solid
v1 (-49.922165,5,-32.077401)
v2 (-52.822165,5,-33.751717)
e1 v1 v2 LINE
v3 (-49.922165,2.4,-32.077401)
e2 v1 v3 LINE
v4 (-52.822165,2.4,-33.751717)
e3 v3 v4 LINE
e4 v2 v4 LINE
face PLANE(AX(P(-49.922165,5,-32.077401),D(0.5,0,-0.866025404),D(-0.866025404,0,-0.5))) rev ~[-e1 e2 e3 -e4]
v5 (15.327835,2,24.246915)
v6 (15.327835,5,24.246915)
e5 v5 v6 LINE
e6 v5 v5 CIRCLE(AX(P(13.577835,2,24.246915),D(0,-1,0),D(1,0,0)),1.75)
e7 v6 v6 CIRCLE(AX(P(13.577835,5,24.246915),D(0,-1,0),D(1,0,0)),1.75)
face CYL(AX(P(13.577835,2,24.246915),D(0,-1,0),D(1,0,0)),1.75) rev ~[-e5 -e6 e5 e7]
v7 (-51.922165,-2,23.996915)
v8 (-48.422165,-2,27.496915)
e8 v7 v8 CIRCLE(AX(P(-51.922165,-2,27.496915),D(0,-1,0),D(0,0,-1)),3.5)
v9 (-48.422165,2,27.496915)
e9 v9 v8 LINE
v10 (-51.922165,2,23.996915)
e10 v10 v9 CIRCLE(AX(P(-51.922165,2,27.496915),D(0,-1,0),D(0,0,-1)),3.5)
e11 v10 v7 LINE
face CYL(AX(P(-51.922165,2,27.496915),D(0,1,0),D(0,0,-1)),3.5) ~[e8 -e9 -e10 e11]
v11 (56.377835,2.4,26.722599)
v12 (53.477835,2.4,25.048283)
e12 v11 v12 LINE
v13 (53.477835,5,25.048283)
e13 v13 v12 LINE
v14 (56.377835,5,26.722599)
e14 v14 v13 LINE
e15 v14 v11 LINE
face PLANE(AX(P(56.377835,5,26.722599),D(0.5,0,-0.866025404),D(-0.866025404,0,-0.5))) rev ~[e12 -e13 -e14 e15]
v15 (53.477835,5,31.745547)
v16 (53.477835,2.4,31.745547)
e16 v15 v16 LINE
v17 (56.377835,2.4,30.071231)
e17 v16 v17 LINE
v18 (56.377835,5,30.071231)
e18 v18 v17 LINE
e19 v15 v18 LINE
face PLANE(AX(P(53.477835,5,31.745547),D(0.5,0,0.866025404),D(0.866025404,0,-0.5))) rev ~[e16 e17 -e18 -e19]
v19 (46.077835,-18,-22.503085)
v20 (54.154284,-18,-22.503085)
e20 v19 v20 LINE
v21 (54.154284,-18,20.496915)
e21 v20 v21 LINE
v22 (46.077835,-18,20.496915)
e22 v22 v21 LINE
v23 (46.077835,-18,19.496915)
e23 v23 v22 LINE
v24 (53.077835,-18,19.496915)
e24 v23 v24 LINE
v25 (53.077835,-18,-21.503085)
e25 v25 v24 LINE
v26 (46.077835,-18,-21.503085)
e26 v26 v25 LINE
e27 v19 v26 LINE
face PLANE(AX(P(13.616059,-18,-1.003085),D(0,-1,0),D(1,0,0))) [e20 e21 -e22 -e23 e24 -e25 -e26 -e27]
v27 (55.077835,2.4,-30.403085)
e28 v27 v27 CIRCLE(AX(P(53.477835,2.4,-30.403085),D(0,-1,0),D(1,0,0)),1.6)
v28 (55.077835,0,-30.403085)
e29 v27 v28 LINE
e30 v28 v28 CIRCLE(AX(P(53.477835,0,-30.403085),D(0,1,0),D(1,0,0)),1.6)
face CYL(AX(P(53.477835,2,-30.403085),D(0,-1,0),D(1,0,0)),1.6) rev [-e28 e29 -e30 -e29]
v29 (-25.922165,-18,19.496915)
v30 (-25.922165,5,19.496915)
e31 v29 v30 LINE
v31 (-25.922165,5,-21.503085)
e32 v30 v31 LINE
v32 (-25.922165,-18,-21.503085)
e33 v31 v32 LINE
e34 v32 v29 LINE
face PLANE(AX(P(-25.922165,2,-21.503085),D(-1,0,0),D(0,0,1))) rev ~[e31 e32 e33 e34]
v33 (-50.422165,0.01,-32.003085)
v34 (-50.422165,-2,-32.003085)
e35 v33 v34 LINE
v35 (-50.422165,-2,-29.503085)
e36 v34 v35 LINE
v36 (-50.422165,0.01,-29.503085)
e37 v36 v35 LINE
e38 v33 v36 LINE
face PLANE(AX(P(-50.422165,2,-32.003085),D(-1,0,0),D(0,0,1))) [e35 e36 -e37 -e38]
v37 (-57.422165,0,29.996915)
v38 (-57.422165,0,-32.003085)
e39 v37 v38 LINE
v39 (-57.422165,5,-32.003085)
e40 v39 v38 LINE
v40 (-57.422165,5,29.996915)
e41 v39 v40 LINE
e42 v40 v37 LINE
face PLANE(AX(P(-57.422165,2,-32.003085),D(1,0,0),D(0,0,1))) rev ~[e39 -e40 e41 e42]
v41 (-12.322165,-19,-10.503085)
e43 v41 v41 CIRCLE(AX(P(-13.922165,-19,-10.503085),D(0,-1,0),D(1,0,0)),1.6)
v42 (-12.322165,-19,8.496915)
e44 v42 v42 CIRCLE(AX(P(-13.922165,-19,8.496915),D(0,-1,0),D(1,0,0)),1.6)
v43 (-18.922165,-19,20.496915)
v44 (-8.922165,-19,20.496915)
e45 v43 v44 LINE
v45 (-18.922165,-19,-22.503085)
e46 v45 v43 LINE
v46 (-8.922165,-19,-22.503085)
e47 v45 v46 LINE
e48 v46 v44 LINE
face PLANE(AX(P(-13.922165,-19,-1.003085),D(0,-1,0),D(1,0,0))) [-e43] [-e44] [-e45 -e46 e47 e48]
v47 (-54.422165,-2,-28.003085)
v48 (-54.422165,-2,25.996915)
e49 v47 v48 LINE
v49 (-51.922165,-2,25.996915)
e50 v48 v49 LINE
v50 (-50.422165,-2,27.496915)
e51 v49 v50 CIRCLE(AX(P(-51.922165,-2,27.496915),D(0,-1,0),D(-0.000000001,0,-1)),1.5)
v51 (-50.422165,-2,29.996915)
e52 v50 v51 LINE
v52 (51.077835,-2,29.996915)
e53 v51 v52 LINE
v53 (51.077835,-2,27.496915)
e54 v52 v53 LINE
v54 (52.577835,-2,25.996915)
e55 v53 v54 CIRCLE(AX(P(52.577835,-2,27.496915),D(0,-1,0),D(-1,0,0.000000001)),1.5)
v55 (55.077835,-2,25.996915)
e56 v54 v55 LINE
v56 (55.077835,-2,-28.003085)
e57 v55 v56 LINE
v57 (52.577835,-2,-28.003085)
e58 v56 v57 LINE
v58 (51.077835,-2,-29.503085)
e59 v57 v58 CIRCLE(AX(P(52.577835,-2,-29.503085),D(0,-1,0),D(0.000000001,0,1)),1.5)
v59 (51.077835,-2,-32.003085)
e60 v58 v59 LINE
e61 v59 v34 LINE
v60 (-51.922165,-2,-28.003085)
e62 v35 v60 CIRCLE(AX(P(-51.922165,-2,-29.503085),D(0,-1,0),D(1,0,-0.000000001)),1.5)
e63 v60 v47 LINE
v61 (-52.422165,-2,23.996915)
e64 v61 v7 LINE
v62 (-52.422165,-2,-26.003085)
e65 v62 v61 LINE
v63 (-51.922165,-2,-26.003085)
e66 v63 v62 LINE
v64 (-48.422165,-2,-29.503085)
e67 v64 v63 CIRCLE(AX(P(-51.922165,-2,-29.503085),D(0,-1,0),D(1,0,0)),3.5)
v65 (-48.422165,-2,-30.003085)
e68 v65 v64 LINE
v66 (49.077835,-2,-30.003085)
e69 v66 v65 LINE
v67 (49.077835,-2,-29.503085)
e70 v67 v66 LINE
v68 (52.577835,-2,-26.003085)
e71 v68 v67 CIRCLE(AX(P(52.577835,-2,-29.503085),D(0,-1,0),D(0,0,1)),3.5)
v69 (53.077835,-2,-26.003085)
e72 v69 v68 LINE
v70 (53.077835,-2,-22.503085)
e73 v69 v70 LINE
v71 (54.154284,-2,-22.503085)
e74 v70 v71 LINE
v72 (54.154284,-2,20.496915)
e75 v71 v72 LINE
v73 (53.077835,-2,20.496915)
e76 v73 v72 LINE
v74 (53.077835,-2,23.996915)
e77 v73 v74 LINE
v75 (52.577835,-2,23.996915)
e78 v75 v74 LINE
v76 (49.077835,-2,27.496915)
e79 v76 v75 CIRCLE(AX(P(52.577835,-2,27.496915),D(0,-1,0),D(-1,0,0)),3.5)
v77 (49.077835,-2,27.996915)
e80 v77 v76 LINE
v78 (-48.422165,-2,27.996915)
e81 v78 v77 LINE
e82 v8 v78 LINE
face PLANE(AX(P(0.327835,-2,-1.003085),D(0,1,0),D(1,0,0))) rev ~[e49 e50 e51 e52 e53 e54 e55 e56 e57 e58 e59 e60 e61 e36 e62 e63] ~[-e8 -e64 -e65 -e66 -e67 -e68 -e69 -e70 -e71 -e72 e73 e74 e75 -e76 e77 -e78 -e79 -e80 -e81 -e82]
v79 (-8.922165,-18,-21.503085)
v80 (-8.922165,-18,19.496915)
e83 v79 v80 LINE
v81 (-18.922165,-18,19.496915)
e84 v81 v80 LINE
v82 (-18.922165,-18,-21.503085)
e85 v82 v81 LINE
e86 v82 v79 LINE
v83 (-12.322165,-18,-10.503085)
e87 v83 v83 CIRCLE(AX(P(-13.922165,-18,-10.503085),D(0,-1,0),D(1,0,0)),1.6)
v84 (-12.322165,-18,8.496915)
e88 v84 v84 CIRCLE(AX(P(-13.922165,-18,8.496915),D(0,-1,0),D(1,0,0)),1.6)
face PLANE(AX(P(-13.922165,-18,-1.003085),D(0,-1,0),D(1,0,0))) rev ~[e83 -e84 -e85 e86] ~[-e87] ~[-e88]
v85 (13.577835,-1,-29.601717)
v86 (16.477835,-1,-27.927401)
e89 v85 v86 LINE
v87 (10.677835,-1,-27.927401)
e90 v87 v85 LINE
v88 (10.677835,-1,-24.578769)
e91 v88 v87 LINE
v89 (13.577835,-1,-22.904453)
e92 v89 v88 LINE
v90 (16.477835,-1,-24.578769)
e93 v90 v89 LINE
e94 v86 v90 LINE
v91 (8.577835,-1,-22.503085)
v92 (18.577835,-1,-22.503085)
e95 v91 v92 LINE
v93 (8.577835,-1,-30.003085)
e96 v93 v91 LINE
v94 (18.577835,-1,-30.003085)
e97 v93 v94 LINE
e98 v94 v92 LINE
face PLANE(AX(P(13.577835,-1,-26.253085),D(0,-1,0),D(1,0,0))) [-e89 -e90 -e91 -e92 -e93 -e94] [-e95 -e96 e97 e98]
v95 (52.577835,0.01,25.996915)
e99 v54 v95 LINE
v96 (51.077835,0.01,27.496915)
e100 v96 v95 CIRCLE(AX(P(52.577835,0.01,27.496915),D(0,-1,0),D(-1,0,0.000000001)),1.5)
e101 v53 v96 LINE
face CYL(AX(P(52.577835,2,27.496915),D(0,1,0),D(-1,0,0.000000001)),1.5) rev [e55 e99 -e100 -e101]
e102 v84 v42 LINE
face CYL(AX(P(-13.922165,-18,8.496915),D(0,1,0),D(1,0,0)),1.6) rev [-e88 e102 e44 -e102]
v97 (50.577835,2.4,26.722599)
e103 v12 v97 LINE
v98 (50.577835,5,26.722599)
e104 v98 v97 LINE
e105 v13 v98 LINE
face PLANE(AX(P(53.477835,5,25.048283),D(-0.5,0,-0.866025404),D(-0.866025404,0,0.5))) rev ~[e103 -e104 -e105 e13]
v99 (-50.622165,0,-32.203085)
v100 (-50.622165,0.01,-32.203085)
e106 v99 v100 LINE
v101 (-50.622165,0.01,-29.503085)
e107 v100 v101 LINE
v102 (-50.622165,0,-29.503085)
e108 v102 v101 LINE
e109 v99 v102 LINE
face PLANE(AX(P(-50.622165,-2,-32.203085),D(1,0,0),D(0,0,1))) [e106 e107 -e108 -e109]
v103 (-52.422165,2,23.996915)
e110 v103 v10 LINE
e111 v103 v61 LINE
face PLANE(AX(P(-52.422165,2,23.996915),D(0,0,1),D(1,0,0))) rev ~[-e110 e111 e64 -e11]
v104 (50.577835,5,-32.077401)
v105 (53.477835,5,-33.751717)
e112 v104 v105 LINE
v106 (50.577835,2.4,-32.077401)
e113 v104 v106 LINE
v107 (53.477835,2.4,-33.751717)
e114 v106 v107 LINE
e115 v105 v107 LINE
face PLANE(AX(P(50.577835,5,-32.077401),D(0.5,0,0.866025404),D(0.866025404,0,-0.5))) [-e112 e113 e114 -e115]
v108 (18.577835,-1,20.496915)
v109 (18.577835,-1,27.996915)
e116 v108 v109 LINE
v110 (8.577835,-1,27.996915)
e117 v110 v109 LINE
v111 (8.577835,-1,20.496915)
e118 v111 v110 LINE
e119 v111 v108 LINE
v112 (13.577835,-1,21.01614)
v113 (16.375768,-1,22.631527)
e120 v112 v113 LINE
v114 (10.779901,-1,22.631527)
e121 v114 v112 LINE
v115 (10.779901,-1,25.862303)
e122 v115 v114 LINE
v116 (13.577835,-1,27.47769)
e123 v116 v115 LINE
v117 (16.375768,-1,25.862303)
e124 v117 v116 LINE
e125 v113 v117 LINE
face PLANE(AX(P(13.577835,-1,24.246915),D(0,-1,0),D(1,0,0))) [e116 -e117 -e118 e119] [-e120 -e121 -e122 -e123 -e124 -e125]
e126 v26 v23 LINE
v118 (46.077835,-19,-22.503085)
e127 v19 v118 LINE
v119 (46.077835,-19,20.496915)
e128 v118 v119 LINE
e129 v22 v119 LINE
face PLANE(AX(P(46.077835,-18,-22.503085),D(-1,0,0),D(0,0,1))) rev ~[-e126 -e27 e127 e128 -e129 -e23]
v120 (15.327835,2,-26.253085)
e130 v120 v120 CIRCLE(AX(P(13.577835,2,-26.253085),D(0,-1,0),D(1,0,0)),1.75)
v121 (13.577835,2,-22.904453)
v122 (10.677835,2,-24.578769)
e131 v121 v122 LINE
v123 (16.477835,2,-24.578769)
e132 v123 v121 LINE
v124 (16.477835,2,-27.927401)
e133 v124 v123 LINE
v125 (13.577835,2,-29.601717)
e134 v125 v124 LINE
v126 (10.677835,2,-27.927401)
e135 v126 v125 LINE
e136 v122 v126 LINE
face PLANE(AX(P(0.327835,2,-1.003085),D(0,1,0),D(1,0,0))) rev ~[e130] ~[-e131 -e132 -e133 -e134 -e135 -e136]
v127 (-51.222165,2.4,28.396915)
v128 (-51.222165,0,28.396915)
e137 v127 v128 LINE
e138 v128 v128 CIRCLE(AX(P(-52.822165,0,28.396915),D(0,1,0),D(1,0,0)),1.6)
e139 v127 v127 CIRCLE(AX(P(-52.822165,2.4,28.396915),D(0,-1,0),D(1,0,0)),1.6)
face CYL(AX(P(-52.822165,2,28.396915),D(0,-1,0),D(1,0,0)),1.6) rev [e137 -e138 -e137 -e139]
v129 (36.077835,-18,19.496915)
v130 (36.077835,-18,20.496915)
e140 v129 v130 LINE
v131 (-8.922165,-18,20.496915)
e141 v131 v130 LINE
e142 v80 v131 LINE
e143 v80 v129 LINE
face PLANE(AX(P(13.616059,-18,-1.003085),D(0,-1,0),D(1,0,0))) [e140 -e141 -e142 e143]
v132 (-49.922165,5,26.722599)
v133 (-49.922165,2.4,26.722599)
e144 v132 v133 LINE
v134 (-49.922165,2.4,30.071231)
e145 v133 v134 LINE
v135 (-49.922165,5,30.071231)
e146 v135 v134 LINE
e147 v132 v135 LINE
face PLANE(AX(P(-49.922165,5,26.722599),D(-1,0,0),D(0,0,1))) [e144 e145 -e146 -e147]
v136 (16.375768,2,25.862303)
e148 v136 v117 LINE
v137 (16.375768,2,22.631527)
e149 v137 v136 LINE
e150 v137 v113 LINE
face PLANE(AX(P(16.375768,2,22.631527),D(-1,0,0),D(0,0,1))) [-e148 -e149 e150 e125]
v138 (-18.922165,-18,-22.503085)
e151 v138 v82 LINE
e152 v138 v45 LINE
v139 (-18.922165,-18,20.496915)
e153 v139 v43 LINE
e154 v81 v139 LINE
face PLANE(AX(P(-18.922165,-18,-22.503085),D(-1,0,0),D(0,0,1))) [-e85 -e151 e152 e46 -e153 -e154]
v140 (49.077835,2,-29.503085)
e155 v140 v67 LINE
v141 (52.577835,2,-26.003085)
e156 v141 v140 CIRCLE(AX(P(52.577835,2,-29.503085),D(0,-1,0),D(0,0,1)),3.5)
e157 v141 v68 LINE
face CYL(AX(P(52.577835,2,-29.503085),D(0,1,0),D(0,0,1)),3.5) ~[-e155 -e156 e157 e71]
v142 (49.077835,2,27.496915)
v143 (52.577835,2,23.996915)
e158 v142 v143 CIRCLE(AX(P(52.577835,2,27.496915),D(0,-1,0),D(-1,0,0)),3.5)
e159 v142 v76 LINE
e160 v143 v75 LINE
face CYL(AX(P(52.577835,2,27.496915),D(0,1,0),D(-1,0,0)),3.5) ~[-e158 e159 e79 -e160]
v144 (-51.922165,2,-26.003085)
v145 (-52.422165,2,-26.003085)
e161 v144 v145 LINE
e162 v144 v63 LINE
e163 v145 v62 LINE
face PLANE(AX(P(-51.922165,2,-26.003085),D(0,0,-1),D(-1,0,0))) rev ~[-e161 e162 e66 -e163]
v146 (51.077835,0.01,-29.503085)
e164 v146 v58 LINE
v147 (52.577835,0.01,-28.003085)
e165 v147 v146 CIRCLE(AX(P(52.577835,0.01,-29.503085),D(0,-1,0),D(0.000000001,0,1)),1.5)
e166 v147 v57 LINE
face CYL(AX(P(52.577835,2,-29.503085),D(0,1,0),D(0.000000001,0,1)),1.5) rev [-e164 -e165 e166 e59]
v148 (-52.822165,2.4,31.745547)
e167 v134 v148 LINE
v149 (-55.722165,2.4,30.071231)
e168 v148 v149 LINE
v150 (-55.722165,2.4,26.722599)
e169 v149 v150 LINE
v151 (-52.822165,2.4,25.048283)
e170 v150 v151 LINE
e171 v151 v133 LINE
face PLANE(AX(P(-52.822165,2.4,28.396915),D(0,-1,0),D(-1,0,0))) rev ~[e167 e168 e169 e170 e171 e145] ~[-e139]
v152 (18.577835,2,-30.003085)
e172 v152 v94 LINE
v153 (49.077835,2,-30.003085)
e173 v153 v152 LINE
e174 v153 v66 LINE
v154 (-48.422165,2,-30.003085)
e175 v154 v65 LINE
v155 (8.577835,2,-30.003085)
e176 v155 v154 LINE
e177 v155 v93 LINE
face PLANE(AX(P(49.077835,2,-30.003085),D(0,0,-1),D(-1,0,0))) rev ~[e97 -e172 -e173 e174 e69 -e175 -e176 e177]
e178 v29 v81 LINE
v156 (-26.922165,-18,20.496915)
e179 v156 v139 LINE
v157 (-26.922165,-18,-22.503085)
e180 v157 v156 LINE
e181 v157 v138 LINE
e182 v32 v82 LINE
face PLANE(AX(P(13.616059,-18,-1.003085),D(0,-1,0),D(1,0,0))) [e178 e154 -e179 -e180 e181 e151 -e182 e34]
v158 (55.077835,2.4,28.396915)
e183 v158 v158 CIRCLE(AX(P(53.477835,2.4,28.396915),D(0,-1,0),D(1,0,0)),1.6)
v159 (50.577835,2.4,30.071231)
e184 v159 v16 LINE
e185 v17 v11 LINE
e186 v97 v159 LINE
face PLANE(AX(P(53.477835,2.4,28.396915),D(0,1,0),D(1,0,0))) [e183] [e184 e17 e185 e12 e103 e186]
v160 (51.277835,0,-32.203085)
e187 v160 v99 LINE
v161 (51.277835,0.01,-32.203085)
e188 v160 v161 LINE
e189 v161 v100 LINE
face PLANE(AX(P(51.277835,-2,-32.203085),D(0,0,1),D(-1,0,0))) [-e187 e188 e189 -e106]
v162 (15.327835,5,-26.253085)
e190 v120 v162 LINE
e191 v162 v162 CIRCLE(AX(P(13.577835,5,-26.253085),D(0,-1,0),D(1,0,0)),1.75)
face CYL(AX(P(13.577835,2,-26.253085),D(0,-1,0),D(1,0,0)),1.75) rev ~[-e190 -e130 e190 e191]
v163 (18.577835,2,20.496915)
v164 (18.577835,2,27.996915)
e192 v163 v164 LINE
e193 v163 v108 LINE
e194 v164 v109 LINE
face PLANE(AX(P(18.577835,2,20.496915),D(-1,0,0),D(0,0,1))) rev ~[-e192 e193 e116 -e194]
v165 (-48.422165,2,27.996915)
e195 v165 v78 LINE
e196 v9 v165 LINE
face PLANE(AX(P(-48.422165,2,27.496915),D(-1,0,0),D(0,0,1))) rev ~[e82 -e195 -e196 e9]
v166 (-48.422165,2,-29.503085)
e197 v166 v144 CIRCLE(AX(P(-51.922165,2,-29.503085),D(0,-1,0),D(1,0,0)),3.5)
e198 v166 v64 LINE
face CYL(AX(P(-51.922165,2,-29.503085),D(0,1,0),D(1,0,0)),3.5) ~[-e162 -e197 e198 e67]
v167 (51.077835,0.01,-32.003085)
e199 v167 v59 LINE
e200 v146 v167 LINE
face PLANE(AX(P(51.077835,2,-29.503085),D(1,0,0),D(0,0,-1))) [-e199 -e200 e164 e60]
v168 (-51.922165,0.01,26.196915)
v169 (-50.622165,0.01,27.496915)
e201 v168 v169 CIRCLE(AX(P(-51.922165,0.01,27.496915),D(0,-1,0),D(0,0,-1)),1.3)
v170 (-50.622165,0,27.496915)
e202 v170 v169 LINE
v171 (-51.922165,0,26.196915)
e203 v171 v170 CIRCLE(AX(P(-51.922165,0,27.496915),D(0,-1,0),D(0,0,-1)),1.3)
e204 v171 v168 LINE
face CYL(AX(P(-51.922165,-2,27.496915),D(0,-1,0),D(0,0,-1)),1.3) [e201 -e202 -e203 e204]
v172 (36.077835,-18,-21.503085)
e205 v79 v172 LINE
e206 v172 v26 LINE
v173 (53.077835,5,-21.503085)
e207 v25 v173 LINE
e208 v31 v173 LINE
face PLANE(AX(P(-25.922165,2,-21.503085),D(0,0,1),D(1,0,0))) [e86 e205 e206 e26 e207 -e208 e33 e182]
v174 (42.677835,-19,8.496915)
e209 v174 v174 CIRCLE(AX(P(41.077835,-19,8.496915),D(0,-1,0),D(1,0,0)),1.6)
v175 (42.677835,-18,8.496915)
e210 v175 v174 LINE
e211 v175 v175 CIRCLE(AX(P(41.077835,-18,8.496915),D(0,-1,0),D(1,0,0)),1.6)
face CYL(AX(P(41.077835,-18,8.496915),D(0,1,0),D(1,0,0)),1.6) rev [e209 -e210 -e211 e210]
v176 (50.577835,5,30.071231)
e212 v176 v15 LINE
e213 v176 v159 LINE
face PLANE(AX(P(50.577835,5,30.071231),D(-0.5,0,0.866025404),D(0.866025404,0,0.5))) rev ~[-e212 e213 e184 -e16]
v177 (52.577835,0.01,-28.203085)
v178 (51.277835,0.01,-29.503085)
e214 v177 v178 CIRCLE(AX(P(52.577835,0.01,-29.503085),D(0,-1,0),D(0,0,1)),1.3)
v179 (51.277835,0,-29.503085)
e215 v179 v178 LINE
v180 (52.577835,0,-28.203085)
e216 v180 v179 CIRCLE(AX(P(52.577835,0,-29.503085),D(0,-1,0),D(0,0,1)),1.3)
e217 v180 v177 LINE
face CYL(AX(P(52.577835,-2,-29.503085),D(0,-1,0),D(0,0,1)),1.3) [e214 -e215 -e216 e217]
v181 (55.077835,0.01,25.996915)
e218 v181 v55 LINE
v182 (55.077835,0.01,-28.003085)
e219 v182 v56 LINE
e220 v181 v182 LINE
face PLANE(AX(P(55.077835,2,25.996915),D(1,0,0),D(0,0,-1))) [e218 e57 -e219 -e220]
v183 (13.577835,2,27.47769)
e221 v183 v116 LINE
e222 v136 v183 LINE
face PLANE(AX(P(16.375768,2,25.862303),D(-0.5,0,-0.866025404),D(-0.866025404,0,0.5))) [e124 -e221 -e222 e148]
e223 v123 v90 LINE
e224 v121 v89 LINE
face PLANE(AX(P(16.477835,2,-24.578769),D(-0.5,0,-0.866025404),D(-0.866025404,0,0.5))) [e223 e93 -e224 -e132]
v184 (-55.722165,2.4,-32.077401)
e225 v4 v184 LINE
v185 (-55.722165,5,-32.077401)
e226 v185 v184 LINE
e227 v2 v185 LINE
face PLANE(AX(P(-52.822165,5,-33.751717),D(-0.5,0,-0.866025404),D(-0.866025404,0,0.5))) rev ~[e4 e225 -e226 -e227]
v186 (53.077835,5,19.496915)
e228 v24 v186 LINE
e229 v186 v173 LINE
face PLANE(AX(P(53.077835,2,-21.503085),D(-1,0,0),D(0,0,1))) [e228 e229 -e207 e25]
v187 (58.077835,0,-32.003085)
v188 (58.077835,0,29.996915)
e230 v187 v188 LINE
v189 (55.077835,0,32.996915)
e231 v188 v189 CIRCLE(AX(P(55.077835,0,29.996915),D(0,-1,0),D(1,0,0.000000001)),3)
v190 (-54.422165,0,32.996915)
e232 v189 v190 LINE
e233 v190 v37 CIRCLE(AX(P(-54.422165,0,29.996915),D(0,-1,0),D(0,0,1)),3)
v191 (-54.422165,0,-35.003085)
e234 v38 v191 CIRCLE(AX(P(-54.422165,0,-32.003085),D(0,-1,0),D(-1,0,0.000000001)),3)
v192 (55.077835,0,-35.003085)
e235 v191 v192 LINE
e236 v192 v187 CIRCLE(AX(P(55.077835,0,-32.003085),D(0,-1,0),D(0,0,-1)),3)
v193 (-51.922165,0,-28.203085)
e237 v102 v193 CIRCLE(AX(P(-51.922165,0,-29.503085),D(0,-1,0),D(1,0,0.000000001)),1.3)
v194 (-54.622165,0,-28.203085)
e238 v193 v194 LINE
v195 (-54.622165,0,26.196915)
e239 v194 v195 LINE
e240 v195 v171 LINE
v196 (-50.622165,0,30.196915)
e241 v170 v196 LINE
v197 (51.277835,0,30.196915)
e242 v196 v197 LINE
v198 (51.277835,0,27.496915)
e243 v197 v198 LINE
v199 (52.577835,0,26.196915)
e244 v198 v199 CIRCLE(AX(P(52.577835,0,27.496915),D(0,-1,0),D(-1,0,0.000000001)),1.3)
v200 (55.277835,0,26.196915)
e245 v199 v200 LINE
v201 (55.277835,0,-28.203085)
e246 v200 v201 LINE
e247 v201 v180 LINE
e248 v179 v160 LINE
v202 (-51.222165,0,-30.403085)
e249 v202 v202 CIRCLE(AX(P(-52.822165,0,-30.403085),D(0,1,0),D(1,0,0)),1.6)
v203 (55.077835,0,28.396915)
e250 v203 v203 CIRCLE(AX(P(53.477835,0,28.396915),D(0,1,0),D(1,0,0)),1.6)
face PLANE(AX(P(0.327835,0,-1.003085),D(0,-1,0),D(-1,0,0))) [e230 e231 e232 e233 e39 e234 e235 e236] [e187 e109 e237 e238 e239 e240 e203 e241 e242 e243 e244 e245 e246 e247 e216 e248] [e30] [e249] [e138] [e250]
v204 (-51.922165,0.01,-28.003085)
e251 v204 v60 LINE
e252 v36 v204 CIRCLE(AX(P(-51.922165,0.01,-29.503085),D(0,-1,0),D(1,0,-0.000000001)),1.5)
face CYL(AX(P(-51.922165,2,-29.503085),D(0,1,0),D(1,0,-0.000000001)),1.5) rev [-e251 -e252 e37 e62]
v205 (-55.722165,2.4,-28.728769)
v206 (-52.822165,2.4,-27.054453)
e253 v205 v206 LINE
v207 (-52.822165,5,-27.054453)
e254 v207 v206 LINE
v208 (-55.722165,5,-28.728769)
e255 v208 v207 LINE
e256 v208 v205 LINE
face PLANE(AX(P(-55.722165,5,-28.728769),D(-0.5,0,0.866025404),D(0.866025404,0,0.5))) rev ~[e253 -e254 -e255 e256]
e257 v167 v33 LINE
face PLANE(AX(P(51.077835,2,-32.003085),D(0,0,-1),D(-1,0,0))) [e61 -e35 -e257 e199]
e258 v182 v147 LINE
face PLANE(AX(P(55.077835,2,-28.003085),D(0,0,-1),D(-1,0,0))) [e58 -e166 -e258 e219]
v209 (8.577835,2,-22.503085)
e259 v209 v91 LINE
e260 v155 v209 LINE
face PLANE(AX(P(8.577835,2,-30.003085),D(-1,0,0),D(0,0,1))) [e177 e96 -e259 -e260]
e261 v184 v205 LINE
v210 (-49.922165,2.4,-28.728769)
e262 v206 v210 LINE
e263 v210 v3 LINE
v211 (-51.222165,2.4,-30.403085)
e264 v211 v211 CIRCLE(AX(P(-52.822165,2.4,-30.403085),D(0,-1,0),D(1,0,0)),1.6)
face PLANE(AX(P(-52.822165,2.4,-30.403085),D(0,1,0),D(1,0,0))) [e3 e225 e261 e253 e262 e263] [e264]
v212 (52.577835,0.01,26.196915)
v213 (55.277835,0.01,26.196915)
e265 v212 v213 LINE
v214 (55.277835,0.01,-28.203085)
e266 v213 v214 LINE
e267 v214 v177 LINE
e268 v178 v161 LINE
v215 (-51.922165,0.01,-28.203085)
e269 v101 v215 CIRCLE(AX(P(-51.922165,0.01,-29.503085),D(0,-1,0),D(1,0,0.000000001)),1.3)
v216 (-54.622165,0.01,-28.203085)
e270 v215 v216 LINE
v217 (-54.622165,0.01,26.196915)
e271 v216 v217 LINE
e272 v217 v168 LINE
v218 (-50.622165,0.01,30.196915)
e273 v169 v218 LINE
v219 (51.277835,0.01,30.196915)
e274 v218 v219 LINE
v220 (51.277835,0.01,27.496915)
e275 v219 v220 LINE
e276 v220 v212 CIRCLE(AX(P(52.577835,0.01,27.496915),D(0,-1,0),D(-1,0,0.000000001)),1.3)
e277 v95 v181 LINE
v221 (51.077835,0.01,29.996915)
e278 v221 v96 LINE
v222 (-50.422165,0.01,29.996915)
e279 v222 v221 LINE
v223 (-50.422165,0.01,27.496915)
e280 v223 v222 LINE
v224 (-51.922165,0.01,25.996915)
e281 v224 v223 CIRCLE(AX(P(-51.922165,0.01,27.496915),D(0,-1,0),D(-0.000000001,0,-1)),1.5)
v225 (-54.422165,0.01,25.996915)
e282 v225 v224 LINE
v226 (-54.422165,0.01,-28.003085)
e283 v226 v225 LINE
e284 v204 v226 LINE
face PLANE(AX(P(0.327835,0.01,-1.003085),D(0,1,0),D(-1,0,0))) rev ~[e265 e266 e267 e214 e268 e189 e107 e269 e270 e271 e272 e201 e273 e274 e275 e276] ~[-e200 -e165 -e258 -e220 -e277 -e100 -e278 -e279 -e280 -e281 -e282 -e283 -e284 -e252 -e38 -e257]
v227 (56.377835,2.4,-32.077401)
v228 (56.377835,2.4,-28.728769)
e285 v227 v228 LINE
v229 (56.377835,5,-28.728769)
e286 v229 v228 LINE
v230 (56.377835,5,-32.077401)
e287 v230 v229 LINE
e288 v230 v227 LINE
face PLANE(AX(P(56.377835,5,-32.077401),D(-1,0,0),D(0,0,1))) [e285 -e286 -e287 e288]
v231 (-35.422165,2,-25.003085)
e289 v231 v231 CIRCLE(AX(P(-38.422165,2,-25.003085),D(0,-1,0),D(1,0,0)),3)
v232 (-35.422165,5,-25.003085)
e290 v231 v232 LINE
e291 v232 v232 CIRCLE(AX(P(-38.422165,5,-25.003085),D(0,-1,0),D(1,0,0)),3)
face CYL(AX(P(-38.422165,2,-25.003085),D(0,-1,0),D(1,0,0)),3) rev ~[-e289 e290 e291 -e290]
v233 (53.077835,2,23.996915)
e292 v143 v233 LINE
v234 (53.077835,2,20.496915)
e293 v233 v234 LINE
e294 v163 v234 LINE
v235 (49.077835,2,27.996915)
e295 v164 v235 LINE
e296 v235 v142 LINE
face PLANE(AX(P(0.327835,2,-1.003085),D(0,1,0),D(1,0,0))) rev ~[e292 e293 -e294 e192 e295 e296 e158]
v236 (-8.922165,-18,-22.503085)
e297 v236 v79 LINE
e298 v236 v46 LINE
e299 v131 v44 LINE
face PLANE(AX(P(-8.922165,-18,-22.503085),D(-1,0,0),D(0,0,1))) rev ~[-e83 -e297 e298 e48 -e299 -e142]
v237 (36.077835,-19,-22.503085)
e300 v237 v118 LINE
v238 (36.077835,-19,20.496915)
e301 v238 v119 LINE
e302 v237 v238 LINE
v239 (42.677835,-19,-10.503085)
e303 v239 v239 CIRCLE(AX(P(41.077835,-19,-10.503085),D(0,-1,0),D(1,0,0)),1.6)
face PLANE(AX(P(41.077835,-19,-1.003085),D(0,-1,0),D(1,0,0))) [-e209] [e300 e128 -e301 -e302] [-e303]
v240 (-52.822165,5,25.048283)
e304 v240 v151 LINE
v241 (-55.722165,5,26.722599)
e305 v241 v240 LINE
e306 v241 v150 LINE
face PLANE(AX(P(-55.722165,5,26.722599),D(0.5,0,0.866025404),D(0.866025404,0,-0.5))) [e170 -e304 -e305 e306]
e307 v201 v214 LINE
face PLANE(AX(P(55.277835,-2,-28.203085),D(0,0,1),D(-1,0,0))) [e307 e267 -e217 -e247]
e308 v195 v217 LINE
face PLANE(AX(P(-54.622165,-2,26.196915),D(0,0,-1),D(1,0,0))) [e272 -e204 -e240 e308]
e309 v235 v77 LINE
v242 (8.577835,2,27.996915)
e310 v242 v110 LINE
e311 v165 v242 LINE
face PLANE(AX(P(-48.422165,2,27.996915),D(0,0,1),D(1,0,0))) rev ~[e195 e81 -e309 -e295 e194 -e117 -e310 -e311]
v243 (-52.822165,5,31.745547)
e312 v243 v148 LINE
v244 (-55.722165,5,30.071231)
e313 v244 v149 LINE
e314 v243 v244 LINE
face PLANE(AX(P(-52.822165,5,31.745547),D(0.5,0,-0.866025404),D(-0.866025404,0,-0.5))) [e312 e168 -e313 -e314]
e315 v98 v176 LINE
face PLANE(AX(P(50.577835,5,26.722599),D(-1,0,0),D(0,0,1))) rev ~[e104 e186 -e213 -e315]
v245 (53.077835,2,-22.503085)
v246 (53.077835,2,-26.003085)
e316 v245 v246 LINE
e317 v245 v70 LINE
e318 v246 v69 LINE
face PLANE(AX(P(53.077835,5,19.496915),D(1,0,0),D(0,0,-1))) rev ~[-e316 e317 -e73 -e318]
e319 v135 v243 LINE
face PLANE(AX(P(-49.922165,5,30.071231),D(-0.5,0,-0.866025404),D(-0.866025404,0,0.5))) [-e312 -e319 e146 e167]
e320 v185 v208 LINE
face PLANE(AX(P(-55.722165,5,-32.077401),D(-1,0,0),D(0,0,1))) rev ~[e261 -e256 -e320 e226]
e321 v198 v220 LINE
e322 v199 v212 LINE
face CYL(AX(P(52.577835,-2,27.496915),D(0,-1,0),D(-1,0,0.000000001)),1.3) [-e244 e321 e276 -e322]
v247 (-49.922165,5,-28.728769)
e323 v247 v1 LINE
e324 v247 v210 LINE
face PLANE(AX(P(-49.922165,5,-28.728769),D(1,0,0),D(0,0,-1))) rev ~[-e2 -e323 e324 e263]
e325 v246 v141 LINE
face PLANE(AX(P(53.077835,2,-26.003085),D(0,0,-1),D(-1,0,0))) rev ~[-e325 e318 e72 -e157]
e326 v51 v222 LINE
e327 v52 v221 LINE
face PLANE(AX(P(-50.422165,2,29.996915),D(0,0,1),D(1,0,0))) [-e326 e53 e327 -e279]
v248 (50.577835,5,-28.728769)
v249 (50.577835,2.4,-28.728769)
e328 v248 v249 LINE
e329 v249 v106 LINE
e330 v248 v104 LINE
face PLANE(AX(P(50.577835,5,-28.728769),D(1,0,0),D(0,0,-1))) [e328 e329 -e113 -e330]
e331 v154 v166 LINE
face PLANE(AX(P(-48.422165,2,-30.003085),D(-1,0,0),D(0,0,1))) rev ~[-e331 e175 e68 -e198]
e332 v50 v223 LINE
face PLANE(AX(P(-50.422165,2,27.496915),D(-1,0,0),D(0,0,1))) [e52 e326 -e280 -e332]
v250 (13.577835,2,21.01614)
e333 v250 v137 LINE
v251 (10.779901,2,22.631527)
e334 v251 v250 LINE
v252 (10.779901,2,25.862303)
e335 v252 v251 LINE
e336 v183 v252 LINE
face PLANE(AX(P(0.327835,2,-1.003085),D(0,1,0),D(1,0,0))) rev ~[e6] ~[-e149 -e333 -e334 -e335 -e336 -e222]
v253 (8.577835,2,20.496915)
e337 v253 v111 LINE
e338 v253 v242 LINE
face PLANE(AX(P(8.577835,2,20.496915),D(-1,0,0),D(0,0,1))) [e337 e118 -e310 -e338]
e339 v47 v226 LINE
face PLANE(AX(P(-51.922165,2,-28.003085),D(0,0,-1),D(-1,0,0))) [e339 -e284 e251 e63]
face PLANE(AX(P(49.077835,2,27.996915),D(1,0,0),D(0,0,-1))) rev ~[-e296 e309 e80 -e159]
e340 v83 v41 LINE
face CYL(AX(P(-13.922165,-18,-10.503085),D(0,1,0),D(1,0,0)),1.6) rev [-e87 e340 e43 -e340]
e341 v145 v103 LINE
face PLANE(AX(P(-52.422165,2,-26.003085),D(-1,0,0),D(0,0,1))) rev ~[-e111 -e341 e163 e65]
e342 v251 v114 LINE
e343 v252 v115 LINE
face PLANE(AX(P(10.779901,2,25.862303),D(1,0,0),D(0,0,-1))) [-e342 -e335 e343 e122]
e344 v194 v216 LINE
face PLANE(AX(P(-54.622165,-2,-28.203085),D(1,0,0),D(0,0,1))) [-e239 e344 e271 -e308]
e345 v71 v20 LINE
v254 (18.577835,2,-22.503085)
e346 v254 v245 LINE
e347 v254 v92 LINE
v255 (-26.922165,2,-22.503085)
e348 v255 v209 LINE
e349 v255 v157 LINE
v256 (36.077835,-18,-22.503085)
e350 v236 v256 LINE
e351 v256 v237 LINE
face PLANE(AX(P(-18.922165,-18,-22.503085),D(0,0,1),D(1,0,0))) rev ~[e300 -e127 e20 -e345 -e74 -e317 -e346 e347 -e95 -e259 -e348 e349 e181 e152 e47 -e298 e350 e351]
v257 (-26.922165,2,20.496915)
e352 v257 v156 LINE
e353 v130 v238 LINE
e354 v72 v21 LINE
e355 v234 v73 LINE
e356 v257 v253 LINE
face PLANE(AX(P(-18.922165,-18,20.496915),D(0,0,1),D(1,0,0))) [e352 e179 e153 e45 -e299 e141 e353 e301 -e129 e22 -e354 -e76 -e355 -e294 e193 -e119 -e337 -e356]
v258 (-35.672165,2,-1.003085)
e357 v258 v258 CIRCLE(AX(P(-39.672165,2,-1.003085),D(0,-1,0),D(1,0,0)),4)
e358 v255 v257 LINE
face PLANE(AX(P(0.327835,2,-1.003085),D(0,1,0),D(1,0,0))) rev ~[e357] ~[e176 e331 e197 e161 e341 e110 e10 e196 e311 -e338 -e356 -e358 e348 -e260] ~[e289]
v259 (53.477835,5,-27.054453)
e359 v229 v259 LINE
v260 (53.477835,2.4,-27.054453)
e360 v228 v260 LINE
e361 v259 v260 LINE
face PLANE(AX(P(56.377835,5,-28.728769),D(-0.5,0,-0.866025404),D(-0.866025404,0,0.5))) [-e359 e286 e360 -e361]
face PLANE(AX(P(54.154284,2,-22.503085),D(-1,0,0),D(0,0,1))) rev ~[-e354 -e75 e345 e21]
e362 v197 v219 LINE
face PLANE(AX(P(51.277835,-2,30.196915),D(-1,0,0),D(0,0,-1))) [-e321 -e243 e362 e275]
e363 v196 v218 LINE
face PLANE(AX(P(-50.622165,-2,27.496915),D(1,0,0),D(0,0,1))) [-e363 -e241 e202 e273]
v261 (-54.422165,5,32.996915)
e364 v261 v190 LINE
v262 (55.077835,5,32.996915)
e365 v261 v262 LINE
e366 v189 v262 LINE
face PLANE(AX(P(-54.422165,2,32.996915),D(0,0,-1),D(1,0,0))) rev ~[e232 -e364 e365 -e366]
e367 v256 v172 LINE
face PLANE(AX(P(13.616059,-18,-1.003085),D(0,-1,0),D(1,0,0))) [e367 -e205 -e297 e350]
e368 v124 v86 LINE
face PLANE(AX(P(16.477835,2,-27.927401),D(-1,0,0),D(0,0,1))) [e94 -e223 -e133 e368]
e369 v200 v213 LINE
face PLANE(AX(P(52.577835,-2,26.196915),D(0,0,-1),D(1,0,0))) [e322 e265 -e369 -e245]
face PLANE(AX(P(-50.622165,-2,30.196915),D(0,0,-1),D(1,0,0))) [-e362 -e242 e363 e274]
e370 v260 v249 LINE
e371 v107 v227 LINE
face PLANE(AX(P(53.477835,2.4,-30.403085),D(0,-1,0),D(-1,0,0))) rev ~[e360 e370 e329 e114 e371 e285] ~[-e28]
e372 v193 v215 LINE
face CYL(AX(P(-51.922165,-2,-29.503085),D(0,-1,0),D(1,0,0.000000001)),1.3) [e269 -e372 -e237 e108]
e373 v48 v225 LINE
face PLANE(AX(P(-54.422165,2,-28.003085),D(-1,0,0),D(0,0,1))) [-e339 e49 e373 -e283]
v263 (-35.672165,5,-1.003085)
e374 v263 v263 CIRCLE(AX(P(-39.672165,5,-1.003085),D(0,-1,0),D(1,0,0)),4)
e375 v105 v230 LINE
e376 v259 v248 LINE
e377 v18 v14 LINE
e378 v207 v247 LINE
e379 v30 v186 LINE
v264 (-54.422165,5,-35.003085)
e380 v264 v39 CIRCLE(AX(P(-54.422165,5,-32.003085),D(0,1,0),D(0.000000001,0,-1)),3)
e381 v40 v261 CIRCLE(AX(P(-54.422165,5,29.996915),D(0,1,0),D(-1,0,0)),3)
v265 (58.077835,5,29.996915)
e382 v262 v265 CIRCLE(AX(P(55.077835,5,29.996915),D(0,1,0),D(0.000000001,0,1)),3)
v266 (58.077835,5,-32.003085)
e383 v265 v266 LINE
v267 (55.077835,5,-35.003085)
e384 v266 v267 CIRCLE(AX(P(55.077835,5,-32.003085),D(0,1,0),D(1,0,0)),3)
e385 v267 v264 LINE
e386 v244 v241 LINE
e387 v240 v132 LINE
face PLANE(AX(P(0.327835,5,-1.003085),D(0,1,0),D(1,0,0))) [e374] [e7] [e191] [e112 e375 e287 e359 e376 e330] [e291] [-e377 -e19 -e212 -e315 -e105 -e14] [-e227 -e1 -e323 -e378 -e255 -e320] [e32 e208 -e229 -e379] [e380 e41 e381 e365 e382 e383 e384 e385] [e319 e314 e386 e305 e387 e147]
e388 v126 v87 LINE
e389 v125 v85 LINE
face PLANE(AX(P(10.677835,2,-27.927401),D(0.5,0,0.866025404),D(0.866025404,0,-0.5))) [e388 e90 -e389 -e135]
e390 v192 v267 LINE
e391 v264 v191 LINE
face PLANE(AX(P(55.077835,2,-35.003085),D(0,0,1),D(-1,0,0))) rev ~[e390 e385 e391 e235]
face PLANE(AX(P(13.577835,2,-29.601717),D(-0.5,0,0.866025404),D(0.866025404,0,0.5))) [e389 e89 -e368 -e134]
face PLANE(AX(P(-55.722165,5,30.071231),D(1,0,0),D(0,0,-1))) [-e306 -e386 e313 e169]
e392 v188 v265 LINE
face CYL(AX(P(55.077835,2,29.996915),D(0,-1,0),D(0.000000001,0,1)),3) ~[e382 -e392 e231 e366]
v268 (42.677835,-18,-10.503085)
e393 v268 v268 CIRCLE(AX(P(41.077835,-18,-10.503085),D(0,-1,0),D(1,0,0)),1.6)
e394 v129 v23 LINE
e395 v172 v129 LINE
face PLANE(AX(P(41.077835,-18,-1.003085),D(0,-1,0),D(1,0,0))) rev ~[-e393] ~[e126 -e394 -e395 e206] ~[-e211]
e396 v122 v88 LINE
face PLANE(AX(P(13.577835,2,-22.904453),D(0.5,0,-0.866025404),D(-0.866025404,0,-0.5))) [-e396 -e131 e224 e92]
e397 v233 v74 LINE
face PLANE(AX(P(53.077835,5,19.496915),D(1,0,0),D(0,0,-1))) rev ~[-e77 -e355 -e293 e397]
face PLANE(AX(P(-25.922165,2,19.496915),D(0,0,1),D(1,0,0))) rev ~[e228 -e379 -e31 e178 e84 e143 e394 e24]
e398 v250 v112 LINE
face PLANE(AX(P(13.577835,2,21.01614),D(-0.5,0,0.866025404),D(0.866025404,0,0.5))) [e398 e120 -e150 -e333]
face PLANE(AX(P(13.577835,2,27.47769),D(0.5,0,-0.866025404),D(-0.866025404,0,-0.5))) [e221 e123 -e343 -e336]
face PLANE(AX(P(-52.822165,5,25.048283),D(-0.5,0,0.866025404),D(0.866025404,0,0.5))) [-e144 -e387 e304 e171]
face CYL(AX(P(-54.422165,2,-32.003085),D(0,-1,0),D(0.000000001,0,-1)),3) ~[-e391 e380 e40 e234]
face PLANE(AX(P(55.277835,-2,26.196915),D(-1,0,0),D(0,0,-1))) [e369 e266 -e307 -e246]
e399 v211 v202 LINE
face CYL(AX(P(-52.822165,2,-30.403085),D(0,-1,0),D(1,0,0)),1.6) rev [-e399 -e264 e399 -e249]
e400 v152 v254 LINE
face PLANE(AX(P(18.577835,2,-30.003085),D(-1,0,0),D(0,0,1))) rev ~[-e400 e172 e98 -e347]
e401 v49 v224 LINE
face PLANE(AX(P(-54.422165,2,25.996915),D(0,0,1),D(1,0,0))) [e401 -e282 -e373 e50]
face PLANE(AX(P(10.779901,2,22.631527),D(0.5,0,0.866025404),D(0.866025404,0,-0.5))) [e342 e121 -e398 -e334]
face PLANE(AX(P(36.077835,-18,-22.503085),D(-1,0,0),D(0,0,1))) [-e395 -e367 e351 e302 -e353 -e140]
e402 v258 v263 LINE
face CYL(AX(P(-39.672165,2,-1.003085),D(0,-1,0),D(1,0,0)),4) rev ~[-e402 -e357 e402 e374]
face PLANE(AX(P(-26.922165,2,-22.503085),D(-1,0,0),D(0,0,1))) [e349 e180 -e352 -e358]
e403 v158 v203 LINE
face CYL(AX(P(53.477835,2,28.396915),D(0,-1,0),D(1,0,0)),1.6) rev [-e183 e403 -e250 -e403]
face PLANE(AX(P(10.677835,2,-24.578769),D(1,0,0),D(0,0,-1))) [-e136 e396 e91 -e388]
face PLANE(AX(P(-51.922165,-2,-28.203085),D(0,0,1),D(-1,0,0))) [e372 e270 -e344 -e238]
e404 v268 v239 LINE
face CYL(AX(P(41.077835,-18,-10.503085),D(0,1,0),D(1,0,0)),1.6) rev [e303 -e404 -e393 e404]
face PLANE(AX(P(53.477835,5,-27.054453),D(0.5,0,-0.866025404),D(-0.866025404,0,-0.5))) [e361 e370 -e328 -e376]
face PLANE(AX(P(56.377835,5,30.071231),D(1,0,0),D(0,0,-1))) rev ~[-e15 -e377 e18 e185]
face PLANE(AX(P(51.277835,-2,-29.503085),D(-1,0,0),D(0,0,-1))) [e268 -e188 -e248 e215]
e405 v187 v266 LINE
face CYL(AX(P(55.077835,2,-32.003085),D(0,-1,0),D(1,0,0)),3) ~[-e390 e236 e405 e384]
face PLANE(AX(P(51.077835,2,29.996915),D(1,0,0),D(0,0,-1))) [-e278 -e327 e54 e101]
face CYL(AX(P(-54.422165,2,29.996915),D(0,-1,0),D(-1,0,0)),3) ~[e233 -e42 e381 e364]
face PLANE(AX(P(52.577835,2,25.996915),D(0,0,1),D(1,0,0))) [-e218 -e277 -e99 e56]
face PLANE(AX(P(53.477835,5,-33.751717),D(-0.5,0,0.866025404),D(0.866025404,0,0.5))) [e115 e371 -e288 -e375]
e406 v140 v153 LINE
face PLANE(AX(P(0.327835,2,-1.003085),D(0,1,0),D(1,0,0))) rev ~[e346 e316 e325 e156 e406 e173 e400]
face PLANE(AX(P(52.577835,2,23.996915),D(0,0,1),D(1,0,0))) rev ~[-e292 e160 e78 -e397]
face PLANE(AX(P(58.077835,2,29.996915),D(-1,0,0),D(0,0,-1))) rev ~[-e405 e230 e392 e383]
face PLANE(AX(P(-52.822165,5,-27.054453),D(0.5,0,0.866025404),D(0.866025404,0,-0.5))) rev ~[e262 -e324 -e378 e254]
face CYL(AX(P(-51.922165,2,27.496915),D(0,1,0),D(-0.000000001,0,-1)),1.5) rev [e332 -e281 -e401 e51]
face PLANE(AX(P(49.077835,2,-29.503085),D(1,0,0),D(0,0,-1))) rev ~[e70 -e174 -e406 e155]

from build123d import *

# Parameters (mm, degrees)
SKETCH_1_R            = 1.6
EXTRUDE_1_DEPTH       = 2
EXTRUDE_1_2_DEPTH     = 4
CUT_EXTRUDE_5_DEPTH   = 2.01
SKETCH_4_R            = 1.6
EXTRUDE_2_DEPTH       = 3
CUT_EXTRUDE_1_DEPTH   = 2.6
SKETCH_6_W            = 79
SKETCH_6_H            = 41
CUT_EXTRUDE_2_DEPTH   = 8
SKETCH_7_W            = 81.076448847
SKETCH_7_H            = 43
SKETCH_7_W_2          = 79
SKETCH_7_H_2          = 41
EXTRUDE_3_DEPTH       = 20
SKETCH_9_R            = 3
CUT_EXTRUDE_3_DEPTH   = 4
SKETCH_10_R           = 4
CUT_EXTRUDE_4_DEPTH   = 4
SKETCH_11_W           = 10
SKETCH_11_H           = 43
SKETCH_11_R           = 1.6
EXTRUDE_4_DEPTH       = 1
SKETCH_12_W           = 10
SKETCH_12_H           = 7.5
EXTRUDE_5_DEPTH       = 3
SKETCH_13_R           = 1.75
CUT_EXTRUDE_5_2_DEPTH = 4


with BuildPart() as part:
    # Эскиз1 → Extrude 1 (new body)
    with BuildSketch(Plane(origin=(0, 0, 0), x_dir=(1, 0, 0), z_dir=(0, 1, 0))):
        with BuildLine():
            Line((55.077834671, -32.996915035), (-54.422165329, -32.996915035))
            ThreePointArc((-54.422165329, -32.996915035), (-56.543485673, -32.118235378), (-57.422165329, -29.996915035))
            Line((-57.422165329, -29.996915035), (-57.422165329, 32.003084965))
            ThreePointArc((-57.422165329, 32.003084965), (-56.543485673, 34.124405309), (-54.422165329, 35.003084965))
            Line((-54.422165329, 35.003084965), (55.077834671, 35.003084965))
            ThreePointArc((55.077834671, 35.003084965), (57.199155014, 34.124405309), (58.077834671, 32.003084965))
            Line((58.077834671, 32.003084965), (58.077834671, -29.996915035))
            ThreePointArc((58.077834671, -29.996915035), (57.199155014, -32.118235378), (55.077834671, -32.996915035))
        make_face()
        with Locations((53.477834671, -28.396915035)):
            Circle(SKETCH_1_R, mode=Mode.SUBTRACT)
        with Locations((-52.822165329, -28.396915035)):
            Circle(SKETCH_1_R, mode=Mode.SUBTRACT)
        with Locations((-52.822165329, 30.403084965)):
            Circle(SKETCH_1_R, mode=Mode.SUBTRACT)
        with Locations((53.477834671, 30.403084965)):
            Circle(SKETCH_1_R, mode=Mode.SUBTRACT)
        with BuildLine():
            Line((55.077834671, 28.003084965), (55.077834671, -25.996915035))
            Line((55.077834671, -25.996915035), (52.577834671, -25.996915035))
            ThreePointArc((52.577834671, -25.996915035), (51.517174499, -26.436254863), (51.077834671, -27.496915035))
            Line((51.077834671, -27.496915035), (51.077834671, -29.996915035))
            Line((51.077834671, -29.996915035), (-50.422165329, -29.996915035))
            Line((-50.422165329, -29.996915035), (-50.422165329, -27.496915035))
            ThreePointArc((-50.422165329, -27.496915035), (-50.861505157, -26.436254863), (-51.922165329, -25.996915035))
            Line((-51.922165329, -25.996915035), (-54.422165329, -25.996915035))
            Line((-54.422165329, -25.996915035), (-54.422165329, 28.003084965))
            Line((-54.422165329, 28.003084965), (-51.922165329, 28.003084965))
            ThreePointArc((-51.922165329, 28.003084965), (-50.861505157, 28.442424793), (-50.422165329, 29.503084965))
            Line((-50.422165329, 29.503084965), (-50.422165329, 32.003084965))
            Line((-50.422165329, 32.003084965), (51.077834671, 32.003084965))
            Line((51.077834671, 32.003084965), (51.077834671, 29.503084965))
            ThreePointArc((51.077834671, 29.503084965), (51.517174499, 28.442424793), (52.577834671, 28.003084965))
            Line((52.577834671, 28.003084965), (55.077834671, 28.003084965))
        make_face(mode=Mode.SUBTRACT)
    extrude(amount=EXTRUDE_1_DEPTH)

    # Эскиз2 → Extrude 1 2 (add)
    with BuildSketch(Plane(origin=(0, 2, 0), x_dir=(1, 0, 0), z_dir=(0, 1, 0))):
        with BuildLine():
            Line((-51.922165329, 28.003084965), (-54.422165329, 28.003084965))
            Line((-54.422165329, 28.003084965), (-54.422165329, -25.996915035))
            Line((-54.422165329, -25.996915035), (-51.922165329, -25.996915035))
            ThreePointArc((-51.922165329, -25.996915035), (-50.861505157, -26.436254863), (-50.422165329, -27.496915035))
            Line((-50.422165329, -27.496915035), (-50.422165329, -29.996915035))
            Line((-50.422165329, -29.996915035), (51.077834671, -29.996915035))
            Line((51.077834671, -29.996915035), (51.077834671, -27.496915035))
            ThreePointArc((51.077834671, -27.496915035), (51.517174499, -26.436254863), (52.577834671, -25.996915035))
            Line((52.577834671, -25.996915035), (55.077834671, -25.996915035))
            Line((55.077834671, -25.996915035), (55.077834671, 28.003084965))
            Line((55.077834671, 28.003084965), (52.577834671, 28.003084965))
            ThreePointArc((52.577834671, 28.003084965), (51.517174499, 28.442424793), (51.077834671, 29.503084965))
            Line((51.077834671, 29.503084965), (51.077834671, 32.003084965))
            Line((51.077834671, 32.003084965), (-50.422165329, 32.003084965))
            Line((-50.422165329, 32.003084965), (-50.422165329, 29.503084965))
            ThreePointArc((-50.422165329, 29.503084965), (-50.861505157, 28.442424793), (-51.922165329, 28.003084965))
        make_face()
        with BuildLine():
            Line((-51.922165329, 26.003084965), (-52.422165329, 26.003084965))
            Line((-52.422165329, 26.003084965), (-52.422165329, -23.996915035))
            Line((-52.422165329, -23.996915035), (-51.922165329, -23.996915035))
            ThreePointArc((-51.922165329, -23.996915035), (-49.447291595, -25.022041301), (-48.422165329, -27.496915035))
            Line((-48.422165329, -27.496915035), (-48.422165329, -27.996915035))
            Line((-48.422165329, -27.996915035), (49.077834671, -27.996915035))
            Line((49.077834671, -27.996915035), (49.077834671, -27.496915035))
            ThreePointArc((49.077834671, -27.496915035), (50.102960937, -25.022041301), (52.577834671, -23.996915035))
            Line((52.577834671, -23.996915035), (53.077834671, -23.996915035))
            Line((53.077834671, -23.996915035), (53.077834671, 26.003084965))
            Line((53.077834671, 26.003084965), (52.577834671, 26.003084965))
            ThreePointArc((52.577834671, 26.003084965), (50.102960937, 27.028211231), (49.077834671, 29.503084965))
            Line((49.077834671, 29.503084965), (49.077834671, 30.003084965))
            Line((49.077834671, 30.003084965), (-48.422165329, 30.003084965))
            Line((-48.422165329, 30.003084965), (-48.422165329, 29.503084965))
            ThreePointArc((-48.422165329, 29.503084965), (-49.447291595, 27.028211231), (-51.922165329, 26.003084965))
        make_face(mode=Mode.SUBTRACT)
    extrude(amount=-EXTRUDE_1_2_DEPTH)

    # Эскиз3 → Cut-Extrude 5 (cut)
    with BuildSketch(Plane.XZ.offset(2)):
        with BuildLine():
            Line((-50.622165329, 27.496915035), (-50.622165329, 30.196915035))
            Line((-50.622165329, 30.196915035), (51.277834671, 30.196915035))
            Line((51.277834671, 30.196915035), (51.277834671, 27.496915035))
            ThreePointArc((51.277834671, 27.496915035), (51.658595855, 26.577676219), (52.577834671, 26.196915035))
            Line((52.577834671, 26.196915035), (55.277834671, 26.196915035))
            Line((55.277834671, 26.196915035), (55.277834671, -28.203084965))
            Line((55.277834671, -28.203084965), (52.577834671, -28.203084965))
            ThreePointArc((52.577834671, -28.203084965), (51.658595855, -28.58384615), (51.277834671, -29.503084965))
            Line((51.277834671, -29.503084965), (51.277834671, -32.203084965))
            Line((51.277834671, -32.203084965), (-50.622165329, -32.203084965))
            Line((-50.622165329, -32.203084965), (-50.622165329, -29.503084965))
            ThreePointArc((-50.622165329, -29.503084965), (-51.002926514, -28.58384615), (-51.922165329, -28.203084965))
            Line((-51.922165329, -28.203084965), (-54.622165329, -28.203084965))
            Line((-54.622165329, -28.203084965), (-54.622165329, 26.196915035))
            Line((-54.622165329, 26.196915035), (-51.922165329, 26.196915035))
            ThreePointArc((-51.922165329, 26.196915035), (-51.002926514, 26.577676219), (-50.622165329, 27.496915035))
        make_face()
        with BuildLine():
            Line((-50.422165329, 27.496915035), (-50.422165329, 29.996915035))
            Line((-50.422165329, 29.996915035), (51.077834671, 29.996915035))
            Line((51.077834671, 29.996915035), (51.077834671, 27.496915035))
            ThreePointArc((51.077834671, 27.496915035), (51.517174499, 26.436254863), (52.577834671, 25.996915035))
            Line((52.577834671, 25.996915035), (55.077834671, 25.996915035))
            Line((55.077834671, 25.996915035), (55.077834671, -28.003084965))
            Line((55.077834671, -28.003084965), (52.577834671, -28.003084965))
            ThreePointArc((52.577834671, -28.003084965), (51.517174499, -28.442424793), (51.077834671, -29.503084965))
            Line((51.077834671, -29.503084965), (51.077834671, -32.003084965))
            Line((51.077834671, -32.003084965), (-50.422165329, -32.003084965))
            Line((-50.422165329, -32.003084965), (-50.422165329, -29.503084965))
            ThreePointArc((-50.422165329, -29.503084965), (-50.861505157, -28.442424793), (-51.922165329, -28.003084965))
            Line((-51.922165329, -28.003084965), (-54.422165329, -28.003084965))
            Line((-54.422165329, -28.003084965), (-54.422165329, 25.996915035))
            Line((-54.422165329, 25.996915035), (-51.922165329, 25.996915035))
            ThreePointArc((-51.922165329, 25.996915035), (-50.861505157, 26.436254863), (-50.422165329, 27.496915035))
        make_face(mode=Mode.SUBTRACT)
    extrude(amount=-CUT_EXTRUDE_5_DEPTH, mode=Mode.SUBTRACT)

    # Эскиз4 → Бобышка-Вытянуть2 (add)
    with BuildSketch(Plane(origin=(0, 2, 0), x_dir=(1, 0, 0), z_dir=(0, 1, 0))):
        with BuildLine():
            Line((-54.422165329, -32.996915035), (55.077834671, -32.996915035))
            ThreePointArc((55.077834671, -32.996915035), (57.199155014, -32.118235378), (58.077834671, -29.996915035))
            Line((58.077834671, -29.996915035), (58.077834671, 32.003084965))
            ThreePointArc((58.077834671, 32.003084965), (57.199155014, 34.124405309), (55.077834671, 35.003084965))
            Line((55.077834671, 35.003084965), (-54.422165329, 35.003084965))
            ThreePointArc((-54.422165329, 35.003084965), (-56.543485673, 34.124405309), (-57.422165329, 32.003084965))
            Line((-57.422165329, 32.003084965), (-57.422165329, -29.996915035))
            ThreePointArc((-57.422165329, -29.996915035), (-56.543485673, -32.118235378), (-54.422165329, -32.996915035))
        make_face()
        with Locations((-52.822165329, -28.396915035)):
            Circle(SKETCH_4_R, mode=Mode.SUBTRACT)
        with Locations((53.477834671, -28.396915035)):
            Circle(SKETCH_4_R, mode=Mode.SUBTRACT)
        with Locations((53.477834671, 30.403084965)):
            Circle(SKETCH_4_R, mode=Mode.SUBTRACT)
        with Locations((-52.822165329, 30.403084965)):
            Circle(SKETCH_4_R, mode=Mode.SUBTRACT)
    extrude(amount=EXTRUDE_2_DEPTH)

    # Эскиз5 → Вырез-Вытянуть1 (cut)
    with BuildSketch(Plane(origin=(0, 5, 0), x_dir=(1, 0, 0), z_dir=(0, 1, 0))):
        Polygon((-52.822165329, 27.054453404), (-49.922165329, 28.728769184), (-49.922165329, 32.077400746), (-52.822165329, 33.751716526), (-55.722165329, 32.077400746), (-55.722165329, 28.728769184), align=None)
        Polygon((56.377834671, 28.728769184), (53.477834671, 27.054453404), (50.577834671, 28.728769184), (50.577834671, 32.077400746), (53.477834671, 33.751716526), (56.377834671, 32.077400746), align=None)
        Polygon((53.477834671, -25.048283474), (50.577834671, -26.722599254), (50.577834671, -30.071230816), (53.477834671, -31.745546596), (56.377834671, -30.071230816), (56.377834671, -26.722599254), align=None)
        Polygon((-55.722165329, -26.722599254), (-52.822165329, -25.048283474), (-49.922165329, -26.722599254), (-49.922165329, -30.071230816), (-52.822165329, -31.745546596), (-55.722165329, -30.071230816), align=None)
    extrude(amount=-CUT_EXTRUDE_1_DEPTH, mode=Mode.SUBTRACT)

    # Эскиз6 → Вырез-Вытянуть2 (cut, through all)
    with BuildSketch(Plane(origin=(0, 5, 0), x_dir=(1, 0, 0), z_dir=(0, 1, 0))):
        with Locations((13.577834671, 1.003084965)):
            Rectangle(SKETCH_6_W, SKETCH_6_H)
    extrude(amount=-CUT_EXTRUDE_2_DEPTH, mode=Mode.SUBTRACT)

    # Эскиз7 → Бобышка-Вытянуть3 (add)
    with BuildSketch(Plane.XZ.offset(-2)):
        with Locations((13.616059095, -1.003084965)):
            Rectangle(SKETCH_7_W, SKETCH_7_H)
        with Locations((13.577834671, -1.003084965)):
            Rectangle(SKETCH_7_W_2, SKETCH_7_H_2, mode=Mode.SUBTRACT)
    extrude(amount=EXTRUDE_3_DEPTH)

    # Эскиз9 → Вырез-Вытянуть3 (cut, through all)
    with BuildSketch(Plane.XZ.offset(-2)):
        with Locations((-38.422165329, -25.003084965)):
            Circle(SKETCH_9_R)
    extrude(amount=-CUT_EXTRUDE_3_DEPTH, mode=Mode.SUBTRACT)

    # Эскиз10 → Вырез-Вытянуть4 (cut, through all)
    with BuildSketch(Plane.XZ.offset(-2)):
        with Locations((-39.672165329, -1.003084965)):
            Circle(SKETCH_10_R)
    extrude(amount=-CUT_EXTRUDE_4_DEPTH, mode=Mode.SUBTRACT)

    # Эскиз11 → Бобышка-Вытянуть4 (add)
    with BuildSketch(Plane.XZ.offset(18)):
        with Locations((-13.922165329, -1.003084965)):
            Rectangle(SKETCH_11_W, SKETCH_11_H)
        with Locations((-13.922165329, 8.496915035)):
            Circle(SKETCH_11_R, mode=Mode.SUBTRACT)
        with Locations((-13.922165329, -10.503084965)):
            Circle(SKETCH_11_R, mode=Mode.SUBTRACT)
        with Locations((41.077834671, -1.003084965)):
            Rectangle(SKETCH_11_W, SKETCH_11_H)
        with Locations((41.077834671, -10.503084965)):
            Circle(SKETCH_11_R, mode=Mode.SUBTRACT)
        with Locations((41.077834671, 8.496915035)):
            Circle(SKETCH_11_R, mode=Mode.SUBTRACT)
    extrude(amount=EXTRUDE_4_DEPTH)

    # Эскиз12 → Бобышка-Вытянуть5 (add)
    with BuildSketch(Plane.XZ.offset(-2)):
        with Locations((13.577834671, -26.253084965)):
            Rectangle(SKETCH_12_W, SKETCH_12_H)
        Polygon((13.577834671, -29.601716526), (16.477834671, -27.927400746), (16.477834671, -24.578769184), (13.577834671, -22.904453404), (10.677834671, -24.578769184), (10.677834671, -27.927400746), align=None, mode=Mode.SUBTRACT)
        with Locations((13.577834671, 24.246915035)):
            Rectangle(SKETCH_12_W, SKETCH_12_H)
        Polygon((13.577834671, 21.016139597), (16.375768274, 22.631527316), (16.375768274, 25.862302754), (13.577834671, 27.477690473), (10.779901068, 25.862302754), (10.779901068, 22.631527316), align=None, mode=Mode.SUBTRACT)
    extrude(amount=EXTRUDE_5_DEPTH)

    # Эскиз13 → Cut-Extrude 5 2 (cut, through all)
    with BuildSketch(Plane.XZ.offset(-2)):
        with Locations((13.577834671, 24.246915035)):
            Circle(SKETCH_13_R)
        with Locations((13.577834671, -26.253084965)):
            Circle(SKETCH_13_R)
    extrude(amount=-CUT_EXTRUDE_5_2_DEPTH, mode=Mode.SUBTRACT)


solid = part.part
